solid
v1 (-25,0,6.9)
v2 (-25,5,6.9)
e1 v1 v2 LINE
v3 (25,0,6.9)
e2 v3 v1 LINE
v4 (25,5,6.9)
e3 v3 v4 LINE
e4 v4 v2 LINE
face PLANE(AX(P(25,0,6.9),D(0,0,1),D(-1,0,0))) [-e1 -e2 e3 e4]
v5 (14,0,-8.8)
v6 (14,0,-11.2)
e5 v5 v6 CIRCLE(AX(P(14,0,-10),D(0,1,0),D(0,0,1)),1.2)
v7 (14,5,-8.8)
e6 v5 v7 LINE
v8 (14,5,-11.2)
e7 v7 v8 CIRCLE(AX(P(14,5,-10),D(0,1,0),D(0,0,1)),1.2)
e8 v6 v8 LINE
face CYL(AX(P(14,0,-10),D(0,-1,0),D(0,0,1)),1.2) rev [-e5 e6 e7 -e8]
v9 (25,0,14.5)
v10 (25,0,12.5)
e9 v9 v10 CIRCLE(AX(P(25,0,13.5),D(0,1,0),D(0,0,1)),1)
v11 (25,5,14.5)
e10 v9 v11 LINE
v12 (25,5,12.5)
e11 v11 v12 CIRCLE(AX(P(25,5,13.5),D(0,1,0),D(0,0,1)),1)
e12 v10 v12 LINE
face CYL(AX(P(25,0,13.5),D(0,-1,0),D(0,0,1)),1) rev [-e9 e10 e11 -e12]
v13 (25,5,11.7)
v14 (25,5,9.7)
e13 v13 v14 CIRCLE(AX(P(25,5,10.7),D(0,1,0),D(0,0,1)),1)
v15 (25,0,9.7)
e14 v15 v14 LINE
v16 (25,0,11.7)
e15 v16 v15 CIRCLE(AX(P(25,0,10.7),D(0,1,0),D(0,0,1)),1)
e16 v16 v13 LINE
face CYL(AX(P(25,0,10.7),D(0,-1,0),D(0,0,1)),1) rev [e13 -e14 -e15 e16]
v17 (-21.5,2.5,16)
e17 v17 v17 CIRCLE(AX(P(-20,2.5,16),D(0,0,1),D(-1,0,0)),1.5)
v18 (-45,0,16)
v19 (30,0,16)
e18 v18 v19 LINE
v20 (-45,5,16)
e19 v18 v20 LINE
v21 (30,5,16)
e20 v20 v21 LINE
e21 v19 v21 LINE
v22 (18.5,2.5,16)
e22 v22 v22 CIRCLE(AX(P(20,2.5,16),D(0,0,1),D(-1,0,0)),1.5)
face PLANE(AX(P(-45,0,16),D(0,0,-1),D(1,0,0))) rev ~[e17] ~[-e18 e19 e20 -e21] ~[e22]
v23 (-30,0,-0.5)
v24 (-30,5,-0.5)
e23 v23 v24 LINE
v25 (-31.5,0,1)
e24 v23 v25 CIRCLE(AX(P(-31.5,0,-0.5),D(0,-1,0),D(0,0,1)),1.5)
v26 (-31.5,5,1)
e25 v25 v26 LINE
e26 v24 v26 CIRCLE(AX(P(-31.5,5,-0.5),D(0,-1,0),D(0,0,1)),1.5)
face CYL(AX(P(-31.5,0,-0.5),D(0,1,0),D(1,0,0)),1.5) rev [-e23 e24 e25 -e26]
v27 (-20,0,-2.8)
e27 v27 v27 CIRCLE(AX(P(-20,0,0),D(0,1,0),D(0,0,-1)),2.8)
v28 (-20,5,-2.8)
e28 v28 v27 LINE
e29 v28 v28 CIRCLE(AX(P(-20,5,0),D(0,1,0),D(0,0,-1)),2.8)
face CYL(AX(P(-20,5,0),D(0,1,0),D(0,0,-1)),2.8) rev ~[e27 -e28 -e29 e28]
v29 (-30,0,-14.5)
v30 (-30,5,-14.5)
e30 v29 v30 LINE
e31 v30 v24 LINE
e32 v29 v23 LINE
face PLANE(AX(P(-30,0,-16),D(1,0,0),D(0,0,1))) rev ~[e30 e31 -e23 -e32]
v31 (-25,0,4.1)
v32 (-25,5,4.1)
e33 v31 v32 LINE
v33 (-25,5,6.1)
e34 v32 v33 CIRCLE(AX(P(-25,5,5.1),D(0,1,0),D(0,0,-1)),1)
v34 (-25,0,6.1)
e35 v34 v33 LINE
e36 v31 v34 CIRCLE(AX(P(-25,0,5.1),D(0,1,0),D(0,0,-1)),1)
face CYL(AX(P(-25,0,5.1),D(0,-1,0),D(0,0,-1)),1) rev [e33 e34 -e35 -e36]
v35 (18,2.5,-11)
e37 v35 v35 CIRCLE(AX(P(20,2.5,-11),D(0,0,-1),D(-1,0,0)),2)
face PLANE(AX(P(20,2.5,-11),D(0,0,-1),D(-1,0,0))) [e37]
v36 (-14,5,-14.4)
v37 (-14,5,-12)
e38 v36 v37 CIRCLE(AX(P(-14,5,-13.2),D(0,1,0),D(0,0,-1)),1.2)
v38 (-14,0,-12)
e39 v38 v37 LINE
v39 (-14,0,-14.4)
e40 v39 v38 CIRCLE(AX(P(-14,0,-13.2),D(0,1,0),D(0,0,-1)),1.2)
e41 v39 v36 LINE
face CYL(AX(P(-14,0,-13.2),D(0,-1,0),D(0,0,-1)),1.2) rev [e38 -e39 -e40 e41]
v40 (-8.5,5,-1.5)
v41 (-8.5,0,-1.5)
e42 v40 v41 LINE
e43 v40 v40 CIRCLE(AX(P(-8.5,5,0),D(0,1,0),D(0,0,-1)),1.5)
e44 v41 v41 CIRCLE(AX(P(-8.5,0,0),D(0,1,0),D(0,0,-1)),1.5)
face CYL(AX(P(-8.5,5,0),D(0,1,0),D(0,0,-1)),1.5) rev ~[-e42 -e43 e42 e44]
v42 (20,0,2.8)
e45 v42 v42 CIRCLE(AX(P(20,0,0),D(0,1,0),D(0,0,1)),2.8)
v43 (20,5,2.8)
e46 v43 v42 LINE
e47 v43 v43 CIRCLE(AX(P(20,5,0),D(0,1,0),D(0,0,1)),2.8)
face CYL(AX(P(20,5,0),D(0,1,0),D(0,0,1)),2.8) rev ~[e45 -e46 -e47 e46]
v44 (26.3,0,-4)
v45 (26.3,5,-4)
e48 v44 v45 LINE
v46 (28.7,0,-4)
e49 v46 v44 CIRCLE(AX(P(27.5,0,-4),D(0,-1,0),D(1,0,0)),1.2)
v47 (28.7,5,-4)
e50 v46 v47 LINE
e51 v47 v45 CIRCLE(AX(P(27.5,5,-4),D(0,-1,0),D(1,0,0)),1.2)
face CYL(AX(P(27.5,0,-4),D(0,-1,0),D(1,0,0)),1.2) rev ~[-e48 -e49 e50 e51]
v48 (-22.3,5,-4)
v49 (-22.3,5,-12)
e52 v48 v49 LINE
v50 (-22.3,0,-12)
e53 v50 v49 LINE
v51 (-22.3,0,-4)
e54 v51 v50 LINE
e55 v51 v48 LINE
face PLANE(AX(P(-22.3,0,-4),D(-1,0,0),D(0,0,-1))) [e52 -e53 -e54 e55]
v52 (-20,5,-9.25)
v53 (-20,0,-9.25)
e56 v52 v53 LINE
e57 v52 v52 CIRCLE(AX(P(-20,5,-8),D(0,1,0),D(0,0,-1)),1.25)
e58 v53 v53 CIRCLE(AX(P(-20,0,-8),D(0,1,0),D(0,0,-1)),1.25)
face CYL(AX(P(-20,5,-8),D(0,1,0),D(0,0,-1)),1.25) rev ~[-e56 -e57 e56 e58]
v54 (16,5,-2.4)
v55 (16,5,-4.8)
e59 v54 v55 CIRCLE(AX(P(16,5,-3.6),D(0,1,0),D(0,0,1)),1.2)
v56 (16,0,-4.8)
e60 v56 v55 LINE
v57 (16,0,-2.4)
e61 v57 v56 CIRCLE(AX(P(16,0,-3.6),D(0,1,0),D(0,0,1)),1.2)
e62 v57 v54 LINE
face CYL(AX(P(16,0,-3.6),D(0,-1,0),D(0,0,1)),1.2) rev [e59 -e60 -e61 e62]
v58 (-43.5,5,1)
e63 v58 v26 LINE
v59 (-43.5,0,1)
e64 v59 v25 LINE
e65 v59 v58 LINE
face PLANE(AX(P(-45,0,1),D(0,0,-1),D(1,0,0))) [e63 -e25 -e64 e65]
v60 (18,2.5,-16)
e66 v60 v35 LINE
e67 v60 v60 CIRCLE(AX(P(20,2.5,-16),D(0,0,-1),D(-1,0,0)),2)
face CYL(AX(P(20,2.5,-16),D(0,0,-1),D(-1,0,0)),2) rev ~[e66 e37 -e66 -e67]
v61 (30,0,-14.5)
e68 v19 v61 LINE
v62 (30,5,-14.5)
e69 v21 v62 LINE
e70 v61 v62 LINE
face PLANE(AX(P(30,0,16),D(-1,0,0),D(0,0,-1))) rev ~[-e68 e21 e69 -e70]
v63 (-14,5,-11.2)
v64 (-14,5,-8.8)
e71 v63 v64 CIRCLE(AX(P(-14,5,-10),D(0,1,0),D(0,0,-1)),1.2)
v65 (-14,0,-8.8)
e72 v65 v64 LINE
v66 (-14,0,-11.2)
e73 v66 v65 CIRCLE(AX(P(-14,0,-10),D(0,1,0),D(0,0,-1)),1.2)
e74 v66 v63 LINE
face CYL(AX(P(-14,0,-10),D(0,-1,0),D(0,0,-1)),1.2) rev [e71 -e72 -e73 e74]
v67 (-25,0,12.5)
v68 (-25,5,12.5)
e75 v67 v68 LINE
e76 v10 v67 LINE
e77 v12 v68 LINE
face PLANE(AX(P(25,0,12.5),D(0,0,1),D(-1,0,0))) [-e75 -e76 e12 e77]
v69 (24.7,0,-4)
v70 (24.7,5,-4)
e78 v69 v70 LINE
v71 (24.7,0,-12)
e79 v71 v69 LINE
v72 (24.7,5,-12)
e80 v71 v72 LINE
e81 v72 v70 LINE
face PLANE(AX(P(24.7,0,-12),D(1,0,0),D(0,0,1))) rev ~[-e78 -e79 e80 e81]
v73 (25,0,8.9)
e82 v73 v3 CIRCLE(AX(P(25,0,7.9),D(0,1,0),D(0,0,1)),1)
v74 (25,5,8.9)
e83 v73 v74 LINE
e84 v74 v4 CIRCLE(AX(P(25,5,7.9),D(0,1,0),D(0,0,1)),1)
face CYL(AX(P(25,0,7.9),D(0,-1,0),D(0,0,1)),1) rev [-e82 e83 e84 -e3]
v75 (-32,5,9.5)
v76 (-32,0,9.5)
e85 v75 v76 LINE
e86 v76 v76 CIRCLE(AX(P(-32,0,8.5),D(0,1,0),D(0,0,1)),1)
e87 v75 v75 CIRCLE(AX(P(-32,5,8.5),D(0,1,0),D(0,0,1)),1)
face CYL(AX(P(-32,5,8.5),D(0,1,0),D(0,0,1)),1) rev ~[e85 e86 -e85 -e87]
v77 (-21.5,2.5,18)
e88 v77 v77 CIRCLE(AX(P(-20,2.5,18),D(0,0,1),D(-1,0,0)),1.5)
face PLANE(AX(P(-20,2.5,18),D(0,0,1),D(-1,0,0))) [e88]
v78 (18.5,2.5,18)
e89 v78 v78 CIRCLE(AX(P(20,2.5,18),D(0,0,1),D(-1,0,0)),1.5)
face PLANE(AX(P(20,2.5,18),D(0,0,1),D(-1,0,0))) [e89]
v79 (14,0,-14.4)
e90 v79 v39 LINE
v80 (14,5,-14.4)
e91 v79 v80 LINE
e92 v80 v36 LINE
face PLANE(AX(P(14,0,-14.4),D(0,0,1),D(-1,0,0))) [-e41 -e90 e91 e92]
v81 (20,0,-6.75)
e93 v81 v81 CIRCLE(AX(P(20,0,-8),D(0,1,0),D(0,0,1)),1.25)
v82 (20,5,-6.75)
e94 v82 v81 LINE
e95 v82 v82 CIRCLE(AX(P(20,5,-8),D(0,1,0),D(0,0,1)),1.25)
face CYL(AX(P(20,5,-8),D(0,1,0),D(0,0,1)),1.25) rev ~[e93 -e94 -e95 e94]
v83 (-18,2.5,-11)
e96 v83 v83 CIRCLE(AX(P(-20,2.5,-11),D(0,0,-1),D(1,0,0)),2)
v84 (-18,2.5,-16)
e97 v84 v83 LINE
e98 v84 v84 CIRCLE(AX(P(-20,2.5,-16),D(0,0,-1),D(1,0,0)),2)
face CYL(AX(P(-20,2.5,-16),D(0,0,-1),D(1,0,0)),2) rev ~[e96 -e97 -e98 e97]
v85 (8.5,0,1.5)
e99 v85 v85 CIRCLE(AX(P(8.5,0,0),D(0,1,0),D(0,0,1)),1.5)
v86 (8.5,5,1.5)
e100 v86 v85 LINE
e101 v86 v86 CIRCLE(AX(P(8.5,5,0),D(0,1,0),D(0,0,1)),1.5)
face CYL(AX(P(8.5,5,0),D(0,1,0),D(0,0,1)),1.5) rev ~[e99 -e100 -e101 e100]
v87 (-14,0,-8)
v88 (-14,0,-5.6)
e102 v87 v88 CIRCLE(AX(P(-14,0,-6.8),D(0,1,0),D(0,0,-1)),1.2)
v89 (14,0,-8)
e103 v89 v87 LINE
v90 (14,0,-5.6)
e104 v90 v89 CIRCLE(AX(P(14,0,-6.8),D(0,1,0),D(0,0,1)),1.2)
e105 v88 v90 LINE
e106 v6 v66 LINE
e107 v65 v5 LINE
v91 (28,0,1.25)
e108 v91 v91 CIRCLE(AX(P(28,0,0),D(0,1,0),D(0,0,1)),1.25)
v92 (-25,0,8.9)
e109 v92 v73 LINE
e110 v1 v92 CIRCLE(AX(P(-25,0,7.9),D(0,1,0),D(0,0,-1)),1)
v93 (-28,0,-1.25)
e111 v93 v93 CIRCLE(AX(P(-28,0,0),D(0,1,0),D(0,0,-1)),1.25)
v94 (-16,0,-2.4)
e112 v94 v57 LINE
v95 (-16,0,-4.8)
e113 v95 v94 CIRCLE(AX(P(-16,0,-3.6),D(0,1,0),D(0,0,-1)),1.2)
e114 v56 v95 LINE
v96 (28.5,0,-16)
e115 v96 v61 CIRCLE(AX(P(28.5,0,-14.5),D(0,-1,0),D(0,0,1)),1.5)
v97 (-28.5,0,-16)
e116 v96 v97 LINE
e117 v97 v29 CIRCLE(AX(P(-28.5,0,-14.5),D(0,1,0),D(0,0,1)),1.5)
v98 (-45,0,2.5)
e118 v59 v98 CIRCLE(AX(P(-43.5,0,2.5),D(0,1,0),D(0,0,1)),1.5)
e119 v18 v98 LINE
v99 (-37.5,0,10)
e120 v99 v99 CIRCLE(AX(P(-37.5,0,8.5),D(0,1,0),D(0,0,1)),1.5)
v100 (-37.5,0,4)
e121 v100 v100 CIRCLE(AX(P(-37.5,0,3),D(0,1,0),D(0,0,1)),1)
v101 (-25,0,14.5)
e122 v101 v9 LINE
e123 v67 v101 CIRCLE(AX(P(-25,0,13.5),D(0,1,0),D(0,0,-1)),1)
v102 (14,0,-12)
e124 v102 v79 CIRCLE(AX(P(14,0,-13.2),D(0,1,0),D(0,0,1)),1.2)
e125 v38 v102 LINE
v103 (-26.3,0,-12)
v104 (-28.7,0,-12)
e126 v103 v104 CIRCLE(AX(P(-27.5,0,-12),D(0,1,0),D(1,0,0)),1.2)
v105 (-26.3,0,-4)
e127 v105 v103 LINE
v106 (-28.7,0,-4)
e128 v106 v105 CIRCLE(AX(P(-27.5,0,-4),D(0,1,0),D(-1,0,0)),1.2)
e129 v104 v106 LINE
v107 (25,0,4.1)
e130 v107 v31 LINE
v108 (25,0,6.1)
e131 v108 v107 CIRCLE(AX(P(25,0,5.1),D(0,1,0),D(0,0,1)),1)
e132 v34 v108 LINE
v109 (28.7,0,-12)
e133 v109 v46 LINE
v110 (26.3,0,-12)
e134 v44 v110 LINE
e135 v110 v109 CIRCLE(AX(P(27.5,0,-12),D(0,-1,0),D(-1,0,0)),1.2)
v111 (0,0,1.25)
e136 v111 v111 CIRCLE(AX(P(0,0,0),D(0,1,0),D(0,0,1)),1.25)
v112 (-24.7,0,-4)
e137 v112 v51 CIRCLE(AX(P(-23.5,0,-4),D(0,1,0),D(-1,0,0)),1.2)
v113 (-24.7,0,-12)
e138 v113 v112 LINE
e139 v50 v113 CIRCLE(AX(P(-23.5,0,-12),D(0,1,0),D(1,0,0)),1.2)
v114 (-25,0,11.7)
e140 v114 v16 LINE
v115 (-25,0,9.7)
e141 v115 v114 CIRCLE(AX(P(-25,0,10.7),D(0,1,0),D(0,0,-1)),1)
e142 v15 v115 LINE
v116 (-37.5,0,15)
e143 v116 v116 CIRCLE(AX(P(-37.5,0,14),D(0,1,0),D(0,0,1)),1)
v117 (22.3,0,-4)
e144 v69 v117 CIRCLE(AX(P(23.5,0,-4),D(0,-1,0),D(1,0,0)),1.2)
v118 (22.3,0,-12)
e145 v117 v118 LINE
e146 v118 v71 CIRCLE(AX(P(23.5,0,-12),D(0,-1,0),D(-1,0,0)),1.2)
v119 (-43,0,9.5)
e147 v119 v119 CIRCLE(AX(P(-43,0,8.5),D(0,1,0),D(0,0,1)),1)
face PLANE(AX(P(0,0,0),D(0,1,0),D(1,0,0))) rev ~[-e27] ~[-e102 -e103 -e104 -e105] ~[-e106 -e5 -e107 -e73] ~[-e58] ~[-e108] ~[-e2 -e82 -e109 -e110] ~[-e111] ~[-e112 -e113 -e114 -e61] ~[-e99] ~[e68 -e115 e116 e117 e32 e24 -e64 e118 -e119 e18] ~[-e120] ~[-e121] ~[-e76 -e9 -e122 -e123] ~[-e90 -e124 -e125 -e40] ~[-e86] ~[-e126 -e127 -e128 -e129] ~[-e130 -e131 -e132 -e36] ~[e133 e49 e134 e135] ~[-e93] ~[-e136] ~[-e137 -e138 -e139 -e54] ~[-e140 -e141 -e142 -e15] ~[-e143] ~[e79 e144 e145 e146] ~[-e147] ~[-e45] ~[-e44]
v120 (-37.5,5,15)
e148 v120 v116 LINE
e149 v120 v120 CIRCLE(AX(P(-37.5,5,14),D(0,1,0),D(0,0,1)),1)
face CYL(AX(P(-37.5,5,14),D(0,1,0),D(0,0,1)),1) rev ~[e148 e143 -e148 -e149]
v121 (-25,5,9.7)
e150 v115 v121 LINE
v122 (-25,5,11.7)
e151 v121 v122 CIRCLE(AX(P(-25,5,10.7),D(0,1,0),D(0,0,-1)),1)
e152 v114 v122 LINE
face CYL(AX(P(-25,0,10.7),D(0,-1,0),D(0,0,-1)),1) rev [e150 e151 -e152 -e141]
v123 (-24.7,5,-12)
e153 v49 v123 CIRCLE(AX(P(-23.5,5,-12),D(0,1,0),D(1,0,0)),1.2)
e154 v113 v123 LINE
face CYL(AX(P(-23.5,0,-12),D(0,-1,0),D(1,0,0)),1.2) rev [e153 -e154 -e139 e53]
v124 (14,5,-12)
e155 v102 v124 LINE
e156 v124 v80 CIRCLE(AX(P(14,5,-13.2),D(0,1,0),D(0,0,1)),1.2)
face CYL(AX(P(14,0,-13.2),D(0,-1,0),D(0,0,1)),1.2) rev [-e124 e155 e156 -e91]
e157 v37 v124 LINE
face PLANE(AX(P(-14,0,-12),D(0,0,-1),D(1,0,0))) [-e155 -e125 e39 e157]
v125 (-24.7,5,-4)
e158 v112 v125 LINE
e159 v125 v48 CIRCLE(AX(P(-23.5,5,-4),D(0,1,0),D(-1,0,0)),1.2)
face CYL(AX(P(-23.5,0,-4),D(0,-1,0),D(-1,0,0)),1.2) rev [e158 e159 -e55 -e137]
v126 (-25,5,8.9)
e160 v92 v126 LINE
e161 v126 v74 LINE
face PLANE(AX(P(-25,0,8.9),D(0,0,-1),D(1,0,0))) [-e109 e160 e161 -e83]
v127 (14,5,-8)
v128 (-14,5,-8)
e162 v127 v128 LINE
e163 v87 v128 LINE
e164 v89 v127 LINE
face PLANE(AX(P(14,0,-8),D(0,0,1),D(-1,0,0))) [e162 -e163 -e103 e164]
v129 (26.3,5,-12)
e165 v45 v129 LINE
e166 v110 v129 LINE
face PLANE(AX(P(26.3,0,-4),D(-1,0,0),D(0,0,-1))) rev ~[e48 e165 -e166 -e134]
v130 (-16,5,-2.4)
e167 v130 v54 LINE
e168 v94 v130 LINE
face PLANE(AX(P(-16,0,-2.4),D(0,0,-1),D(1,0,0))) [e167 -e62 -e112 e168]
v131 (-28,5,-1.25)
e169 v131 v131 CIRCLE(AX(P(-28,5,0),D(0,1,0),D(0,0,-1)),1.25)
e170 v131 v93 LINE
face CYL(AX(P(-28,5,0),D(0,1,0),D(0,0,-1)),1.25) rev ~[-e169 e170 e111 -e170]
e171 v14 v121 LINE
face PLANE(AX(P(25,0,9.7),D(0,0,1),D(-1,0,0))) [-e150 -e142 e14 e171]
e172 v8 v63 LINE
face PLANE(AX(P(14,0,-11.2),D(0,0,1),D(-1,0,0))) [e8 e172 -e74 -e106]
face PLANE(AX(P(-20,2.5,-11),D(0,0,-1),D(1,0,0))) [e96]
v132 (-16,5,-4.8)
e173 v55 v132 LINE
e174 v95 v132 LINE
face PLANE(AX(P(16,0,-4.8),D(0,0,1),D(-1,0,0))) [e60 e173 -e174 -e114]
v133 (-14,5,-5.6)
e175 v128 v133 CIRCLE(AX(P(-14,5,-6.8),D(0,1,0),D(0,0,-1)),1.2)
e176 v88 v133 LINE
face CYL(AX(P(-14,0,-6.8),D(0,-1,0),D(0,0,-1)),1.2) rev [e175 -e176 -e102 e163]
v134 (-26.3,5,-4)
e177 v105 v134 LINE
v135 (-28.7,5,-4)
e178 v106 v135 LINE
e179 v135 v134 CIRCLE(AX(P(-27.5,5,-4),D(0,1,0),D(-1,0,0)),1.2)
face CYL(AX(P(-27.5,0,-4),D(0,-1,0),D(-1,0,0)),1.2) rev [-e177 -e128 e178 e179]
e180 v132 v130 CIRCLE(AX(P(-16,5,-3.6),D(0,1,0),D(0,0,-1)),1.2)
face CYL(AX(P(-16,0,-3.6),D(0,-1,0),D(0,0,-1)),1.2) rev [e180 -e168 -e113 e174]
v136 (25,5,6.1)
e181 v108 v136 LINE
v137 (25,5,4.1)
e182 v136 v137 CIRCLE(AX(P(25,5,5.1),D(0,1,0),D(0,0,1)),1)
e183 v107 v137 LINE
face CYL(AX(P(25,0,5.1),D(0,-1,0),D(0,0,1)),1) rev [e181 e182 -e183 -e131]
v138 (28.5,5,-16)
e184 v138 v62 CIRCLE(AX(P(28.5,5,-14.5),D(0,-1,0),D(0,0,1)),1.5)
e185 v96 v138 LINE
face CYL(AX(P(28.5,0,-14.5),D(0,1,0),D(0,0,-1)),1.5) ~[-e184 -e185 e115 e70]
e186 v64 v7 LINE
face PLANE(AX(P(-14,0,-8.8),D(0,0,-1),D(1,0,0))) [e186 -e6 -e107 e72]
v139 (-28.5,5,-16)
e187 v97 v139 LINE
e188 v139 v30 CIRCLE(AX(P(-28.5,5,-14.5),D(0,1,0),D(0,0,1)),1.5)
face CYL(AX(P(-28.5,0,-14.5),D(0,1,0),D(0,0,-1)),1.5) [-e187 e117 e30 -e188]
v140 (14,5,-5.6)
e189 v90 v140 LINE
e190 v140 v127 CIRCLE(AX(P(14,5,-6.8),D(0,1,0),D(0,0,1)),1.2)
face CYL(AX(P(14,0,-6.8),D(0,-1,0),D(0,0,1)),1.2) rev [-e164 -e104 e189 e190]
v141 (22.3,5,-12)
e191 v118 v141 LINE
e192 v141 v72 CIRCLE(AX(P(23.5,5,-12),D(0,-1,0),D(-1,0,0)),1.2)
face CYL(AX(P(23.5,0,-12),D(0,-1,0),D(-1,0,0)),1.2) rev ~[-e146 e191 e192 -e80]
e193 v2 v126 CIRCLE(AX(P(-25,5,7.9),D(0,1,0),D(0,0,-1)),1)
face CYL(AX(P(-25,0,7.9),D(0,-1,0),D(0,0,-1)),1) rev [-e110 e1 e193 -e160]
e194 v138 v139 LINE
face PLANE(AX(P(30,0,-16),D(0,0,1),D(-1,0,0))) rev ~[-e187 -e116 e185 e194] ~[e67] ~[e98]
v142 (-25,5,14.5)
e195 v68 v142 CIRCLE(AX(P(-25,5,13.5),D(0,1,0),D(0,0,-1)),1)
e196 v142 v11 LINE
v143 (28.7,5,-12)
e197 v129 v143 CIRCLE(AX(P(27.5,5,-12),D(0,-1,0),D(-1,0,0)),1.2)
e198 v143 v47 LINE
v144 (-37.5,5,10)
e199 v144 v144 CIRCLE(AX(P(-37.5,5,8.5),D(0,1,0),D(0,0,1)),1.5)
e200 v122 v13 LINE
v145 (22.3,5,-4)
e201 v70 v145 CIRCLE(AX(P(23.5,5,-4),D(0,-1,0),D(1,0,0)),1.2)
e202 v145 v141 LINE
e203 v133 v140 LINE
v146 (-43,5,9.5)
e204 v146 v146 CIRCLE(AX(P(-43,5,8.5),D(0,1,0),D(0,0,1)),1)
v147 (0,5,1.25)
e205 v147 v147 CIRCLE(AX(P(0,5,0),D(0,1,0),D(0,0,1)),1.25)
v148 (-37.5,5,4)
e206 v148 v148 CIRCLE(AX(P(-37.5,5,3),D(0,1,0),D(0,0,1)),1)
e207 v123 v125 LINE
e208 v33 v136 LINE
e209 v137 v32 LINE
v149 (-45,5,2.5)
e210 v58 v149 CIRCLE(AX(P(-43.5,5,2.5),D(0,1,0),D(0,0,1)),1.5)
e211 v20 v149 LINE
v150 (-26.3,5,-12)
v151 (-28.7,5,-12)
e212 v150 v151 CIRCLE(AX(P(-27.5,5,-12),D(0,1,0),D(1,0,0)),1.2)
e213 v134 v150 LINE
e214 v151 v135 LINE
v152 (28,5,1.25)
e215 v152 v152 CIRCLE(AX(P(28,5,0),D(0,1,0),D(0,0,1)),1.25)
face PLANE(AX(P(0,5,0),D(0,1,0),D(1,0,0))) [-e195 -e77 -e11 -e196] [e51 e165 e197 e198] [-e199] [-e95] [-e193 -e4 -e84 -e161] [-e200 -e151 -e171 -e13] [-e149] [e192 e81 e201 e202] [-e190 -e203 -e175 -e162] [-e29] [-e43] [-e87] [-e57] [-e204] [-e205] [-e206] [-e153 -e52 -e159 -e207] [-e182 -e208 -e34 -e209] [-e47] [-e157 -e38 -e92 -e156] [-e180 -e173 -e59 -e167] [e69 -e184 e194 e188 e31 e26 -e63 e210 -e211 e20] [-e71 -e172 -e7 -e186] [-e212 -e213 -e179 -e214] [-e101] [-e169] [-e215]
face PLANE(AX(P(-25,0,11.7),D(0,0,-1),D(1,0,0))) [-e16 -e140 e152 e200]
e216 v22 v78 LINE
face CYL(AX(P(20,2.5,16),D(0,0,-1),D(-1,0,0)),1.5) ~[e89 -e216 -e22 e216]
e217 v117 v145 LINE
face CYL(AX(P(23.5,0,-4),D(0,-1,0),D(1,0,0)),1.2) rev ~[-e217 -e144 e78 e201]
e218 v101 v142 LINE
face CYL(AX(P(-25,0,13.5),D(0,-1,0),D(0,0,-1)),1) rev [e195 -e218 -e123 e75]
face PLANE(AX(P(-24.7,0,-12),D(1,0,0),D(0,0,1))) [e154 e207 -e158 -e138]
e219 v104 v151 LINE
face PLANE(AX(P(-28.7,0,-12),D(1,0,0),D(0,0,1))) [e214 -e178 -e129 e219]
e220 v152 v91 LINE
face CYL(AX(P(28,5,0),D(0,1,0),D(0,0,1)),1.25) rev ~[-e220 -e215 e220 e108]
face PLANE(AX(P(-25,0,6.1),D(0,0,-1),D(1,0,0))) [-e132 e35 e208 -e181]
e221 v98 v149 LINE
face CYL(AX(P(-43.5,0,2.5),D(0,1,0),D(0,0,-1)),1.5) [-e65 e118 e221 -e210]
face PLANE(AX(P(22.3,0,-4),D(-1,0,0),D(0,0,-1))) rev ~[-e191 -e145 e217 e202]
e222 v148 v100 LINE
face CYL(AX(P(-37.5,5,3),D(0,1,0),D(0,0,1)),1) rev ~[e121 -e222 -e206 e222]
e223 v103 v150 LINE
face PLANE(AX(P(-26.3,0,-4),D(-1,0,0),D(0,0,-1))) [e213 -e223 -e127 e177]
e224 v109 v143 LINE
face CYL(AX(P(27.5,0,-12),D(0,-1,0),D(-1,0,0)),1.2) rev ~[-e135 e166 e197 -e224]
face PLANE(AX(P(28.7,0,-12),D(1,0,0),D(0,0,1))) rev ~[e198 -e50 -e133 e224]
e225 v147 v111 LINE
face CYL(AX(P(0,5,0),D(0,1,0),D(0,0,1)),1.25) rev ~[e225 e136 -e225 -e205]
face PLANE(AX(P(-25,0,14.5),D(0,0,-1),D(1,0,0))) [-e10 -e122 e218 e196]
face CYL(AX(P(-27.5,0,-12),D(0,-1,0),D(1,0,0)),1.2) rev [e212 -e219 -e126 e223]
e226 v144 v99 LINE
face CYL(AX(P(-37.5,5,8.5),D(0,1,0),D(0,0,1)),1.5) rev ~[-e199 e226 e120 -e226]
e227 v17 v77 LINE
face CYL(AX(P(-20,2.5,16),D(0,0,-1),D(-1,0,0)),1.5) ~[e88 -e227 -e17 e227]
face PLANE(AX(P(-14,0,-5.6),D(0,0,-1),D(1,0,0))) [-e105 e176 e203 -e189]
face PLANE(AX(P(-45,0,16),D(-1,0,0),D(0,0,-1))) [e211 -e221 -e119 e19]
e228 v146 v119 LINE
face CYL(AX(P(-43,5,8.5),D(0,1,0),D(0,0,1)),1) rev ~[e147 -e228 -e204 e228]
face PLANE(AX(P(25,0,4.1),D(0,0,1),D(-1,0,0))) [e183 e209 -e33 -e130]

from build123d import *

# Parameters (mm, degrees)
SKETCH_1_W          = 15
SKETCH_1_H          = 15
EXTRUDE_1_DEPTH     = 5
SKETCH_2_R          = 1.5
SKETCH_2_R_2        = 1.25
SKETCH_2_R_3        = 2.8
SKETCH_2_R_4        = 1
CUT_EXTRUDE_1_DEPTH = 5
FILLET_1_R          = 1.5
SKETCH_4_R          = 1.5
EXTRUDE_2_DEPTH     = 2
SKETCH_5_R          = 2
CUT_EXTRUDE_2_DEPTH = 5
CUT_EXTRUDE_3_DEPTH = 5


with BuildPart() as part:
    # 草图1 → 凸台-拉伸1 (new body)
    with BuildSketch(Plane(origin=(0, 0, 0), x_dir=(1, 0, 0), z_dir=(0, 1, 0))):
        Polygon((30, 16), (-30, 16), (-30, -1), (-30, -16), (30, -16), align=None)
        with Locations((-37.5, -8.5)):
            Rectangle(SKETCH_1_W, SKETCH_1_H)
    extrude(amount=EXTRUDE_1_DEPTH)

    # 草图2 → 切除-拉伸1 (cut)
    with BuildSketch(Plane(origin=(0, 5, 0), x_dir=(1, 0, 0), z_dir=(0, 1, 0))):
        with Locations(Location((8.5, 0, 0), (0, 0, 270))):
            Circle(SKETCH_2_R)
        with Locations(Location((-8.5, 0, 0), (0, 0, 90))):
            Circle(SKETCH_2_R)
        with Locations(Location((0, 0, 0), (0, 0, 270))):
            Circle(SKETCH_2_R_2)
        with Locations(Location((20, 0, 0), (0, 0, 270))):
            Circle(SKETCH_2_R_3)
        with Locations(Location((-20, 0, 0), (0, 0, 90))):
            Circle(SKETCH_2_R_3)
        with Locations(Location((20, 8, 0), (0, 0, 270))):
            Circle(SKETCH_2_R_2)
        with Locations(Location((28, 0, 0), (0, 0, 270))):
            Circle(SKETCH_2_R_2)
        with Locations(Location((-28, 0, 0), (0, 0, 90))):
            Circle(SKETCH_2_R_2)
        with Locations(Location((-20, 8, 0), (0, 0, 90))):
            Circle(SKETCH_2_R_2)
        with Locations(Location((-37.5, -8.5, 0), (0, 0, 270))):
            Circle(SKETCH_2_R)
        with Locations(Location((-32, -8.5, 0), (0, 0, 270))):
            Circle(SKETCH_2_R_4)
        with Locations(Location((-37.5, -14, 0), (0, 0, 270))):
            Circle(SKETCH_2_R_4)
        with Locations(Location((-43, -8.5, 0), (0, 0, 270))):
            Circle(SKETCH_2_R_4)
        with Locations(Location((-37.5, -3, 0), (0, 0, 270))):
            Circle(SKETCH_2_R_4)
    extrude(amount=-CUT_EXTRUDE_1_DEPTH, mode=Mode.SUBTRACT)

    # 圆角1
    fillet_1_edges = [part.edges().sort_by_distance(p)[0] for p in [
        (-30, 2.5, 1),
        (-45, 2.5, 1),
        (-30, 2.5, -16),
        (30, 2.5, -16),
    ]]
    fillet(fillet_1_edges, radius=FILLET_1_R)

    # 草图4 → 凸台-拉伸2 (add)
    with BuildSketch(Plane.XY.offset(16)):
        with Locations(Location((20, 2.5, 0), (0, 0, 180))):
            Circle(SKETCH_4_R)
        with Locations(Location((-20, 2.5, 0), (0, 0, 180))):
            Circle(SKETCH_4_R)
    extrude(amount=EXTRUDE_2_DEPTH)

    # 草图5 → 切除-拉伸2 (cut)
    with BuildSketch(Plane(origin=(0, 0, -16), x_dir=(-1, 0, 0), z_dir=(0, 0, -1))):
        with Locations((-20, 2.5)):
            Circle(SKETCH_5_R)
        with Locations(Location((20, 2.5, 0), (0, 0, 180))):
            Circle(SKETCH_5_R)
    extrude(amount=-CUT_EXTRUDE_2_DEPTH, mode=Mode.SUBTRACT)

    # 草图6 → 切除-拉伸3 (cut)
    with BuildSketch(Plane.XZ):
        with BuildLine():
            Line((-25, 14.5), (25, 14.5))
            ThreePointArc((25, 14.5), (26, 13.5), (25, 12.5))
            Line((25, 12.5), (-25, 12.5))
            ThreePointArc((-25, 12.5), (-26, 13.5), (-25, 14.5))
        make_face()
        with BuildLine():
            Line((-25, 11.7), (25, 11.7))
            ThreePointArc((25, 11.7), (26, 10.7), (25, 9.7))
            Line((25, 9.7), (-25, 9.7))
            ThreePointArc((-25, 9.7), (-26, 10.7), (-25, 11.7))
        make_face()
        with BuildLine():
            Line((-25, 8.9), (25, 8.9))
            ThreePointArc((25, 8.9), (26, 7.9), (25, 6.9))
            Line((25, 6.9), (-25, 6.9))
            ThreePointArc((-25, 6.9), (-26, 7.9), (-25, 8.9))
        make_face()
        with BuildLine():
            Line((-25, 6.1), (25, 6.1))
            ThreePointArc((25, 6.1), (26, 5.1), (25, 4.1))
            Line((25, 4.1), (-25, 4.1))
            ThreePointArc((-25, 4.1), (-26, 5.1), (-25, 6.1))
        make_face()
        with BuildLine():
            Line((-16, -2.4), (16, -2.4))
            ThreePointArc((16, -2.4), (17.2, -3.6), (16, -4.8))
            Line((16, -4.8), (-16, -4.8))
            ThreePointArc((-16, -4.8), (-17.2, -3.6), (-16, -2.4))
        make_face()
        with BuildLine():
            Line((-14, -5.6), (14, -5.6))
            ThreePointArc((14, -5.6), (15.2, -6.8), (14, -8))
            Line((14, -8), (-14, -8))
            ThreePointArc((-14, -8), (-15.2, -6.8), (-14, -5.6))
        make_face()
        with BuildLine():
            Line((-14, -8.8), (14, -8.8))
            ThreePointArc((14, -8.8), (15.2, -10), (14, -11.2))
            Line((14, -11.2), (-14, -11.2))
            ThreePointArc((-14, -11.2), (-15.2, -10), (-14, -8.8))
        make_face()
        with BuildLine():
            Line((-14, -12), (14, -12))
            ThreePointArc((14, -12), (15.2, -13.2), (14, -14.4))
            Line((14, -14.4), (-14, -14.4))
            ThreePointArc((-14, -14.4), (-15.2, -13.2), (-14, -12))
        make_face()
        with BuildLine():
            Line((-22.3, -4), (-22.3, -12))
            ThreePointArc((-22.3, -12), (-23.5, -13.2), (-24.7, -12))
            Line((-24.7, -12), (-24.7, -4))
            ThreePointArc((-24.7, -4), (-23.5, -2.8), (-22.3, -4))
        make_face()
        with BuildLine():
            Line((-26.3, -4), (-26.3, -12))
            ThreePointArc((-26.3, -12), (-27.5, -13.2), (-28.7, -12))
            Line((-28.7, -12), (-28.7, -4))
            ThreePointArc((-28.7, -4), (-27.5, -2.8), (-26.3, -4))
        make_face()
        with BuildLine():
            Line((22.3, -4), (22.3, -12))
            ThreePointArc((22.3, -12), (23.5, -13.2), (24.7, -12))
            Line((24.7, -12), (24.7, -4))
            ThreePointArc((24.7, -4), (23.5, -2.8), (22.3, -4))
        make_face()
        with BuildLine():
            Line((26.3, -4), (26.3, -12))
            ThreePointArc((26.3, -12), (27.5, -13.2), (28.7, -12))
            Line((28.7, -12), (28.7, -4))
            ThreePointArc((28.7, -4), (27.5, -2.8), (26.3, -4))
        make_face()
    extrude(amount=-CUT_EXTRUDE_3_DEPTH, mode=Mode.SUBTRACT)


solid = part.part
